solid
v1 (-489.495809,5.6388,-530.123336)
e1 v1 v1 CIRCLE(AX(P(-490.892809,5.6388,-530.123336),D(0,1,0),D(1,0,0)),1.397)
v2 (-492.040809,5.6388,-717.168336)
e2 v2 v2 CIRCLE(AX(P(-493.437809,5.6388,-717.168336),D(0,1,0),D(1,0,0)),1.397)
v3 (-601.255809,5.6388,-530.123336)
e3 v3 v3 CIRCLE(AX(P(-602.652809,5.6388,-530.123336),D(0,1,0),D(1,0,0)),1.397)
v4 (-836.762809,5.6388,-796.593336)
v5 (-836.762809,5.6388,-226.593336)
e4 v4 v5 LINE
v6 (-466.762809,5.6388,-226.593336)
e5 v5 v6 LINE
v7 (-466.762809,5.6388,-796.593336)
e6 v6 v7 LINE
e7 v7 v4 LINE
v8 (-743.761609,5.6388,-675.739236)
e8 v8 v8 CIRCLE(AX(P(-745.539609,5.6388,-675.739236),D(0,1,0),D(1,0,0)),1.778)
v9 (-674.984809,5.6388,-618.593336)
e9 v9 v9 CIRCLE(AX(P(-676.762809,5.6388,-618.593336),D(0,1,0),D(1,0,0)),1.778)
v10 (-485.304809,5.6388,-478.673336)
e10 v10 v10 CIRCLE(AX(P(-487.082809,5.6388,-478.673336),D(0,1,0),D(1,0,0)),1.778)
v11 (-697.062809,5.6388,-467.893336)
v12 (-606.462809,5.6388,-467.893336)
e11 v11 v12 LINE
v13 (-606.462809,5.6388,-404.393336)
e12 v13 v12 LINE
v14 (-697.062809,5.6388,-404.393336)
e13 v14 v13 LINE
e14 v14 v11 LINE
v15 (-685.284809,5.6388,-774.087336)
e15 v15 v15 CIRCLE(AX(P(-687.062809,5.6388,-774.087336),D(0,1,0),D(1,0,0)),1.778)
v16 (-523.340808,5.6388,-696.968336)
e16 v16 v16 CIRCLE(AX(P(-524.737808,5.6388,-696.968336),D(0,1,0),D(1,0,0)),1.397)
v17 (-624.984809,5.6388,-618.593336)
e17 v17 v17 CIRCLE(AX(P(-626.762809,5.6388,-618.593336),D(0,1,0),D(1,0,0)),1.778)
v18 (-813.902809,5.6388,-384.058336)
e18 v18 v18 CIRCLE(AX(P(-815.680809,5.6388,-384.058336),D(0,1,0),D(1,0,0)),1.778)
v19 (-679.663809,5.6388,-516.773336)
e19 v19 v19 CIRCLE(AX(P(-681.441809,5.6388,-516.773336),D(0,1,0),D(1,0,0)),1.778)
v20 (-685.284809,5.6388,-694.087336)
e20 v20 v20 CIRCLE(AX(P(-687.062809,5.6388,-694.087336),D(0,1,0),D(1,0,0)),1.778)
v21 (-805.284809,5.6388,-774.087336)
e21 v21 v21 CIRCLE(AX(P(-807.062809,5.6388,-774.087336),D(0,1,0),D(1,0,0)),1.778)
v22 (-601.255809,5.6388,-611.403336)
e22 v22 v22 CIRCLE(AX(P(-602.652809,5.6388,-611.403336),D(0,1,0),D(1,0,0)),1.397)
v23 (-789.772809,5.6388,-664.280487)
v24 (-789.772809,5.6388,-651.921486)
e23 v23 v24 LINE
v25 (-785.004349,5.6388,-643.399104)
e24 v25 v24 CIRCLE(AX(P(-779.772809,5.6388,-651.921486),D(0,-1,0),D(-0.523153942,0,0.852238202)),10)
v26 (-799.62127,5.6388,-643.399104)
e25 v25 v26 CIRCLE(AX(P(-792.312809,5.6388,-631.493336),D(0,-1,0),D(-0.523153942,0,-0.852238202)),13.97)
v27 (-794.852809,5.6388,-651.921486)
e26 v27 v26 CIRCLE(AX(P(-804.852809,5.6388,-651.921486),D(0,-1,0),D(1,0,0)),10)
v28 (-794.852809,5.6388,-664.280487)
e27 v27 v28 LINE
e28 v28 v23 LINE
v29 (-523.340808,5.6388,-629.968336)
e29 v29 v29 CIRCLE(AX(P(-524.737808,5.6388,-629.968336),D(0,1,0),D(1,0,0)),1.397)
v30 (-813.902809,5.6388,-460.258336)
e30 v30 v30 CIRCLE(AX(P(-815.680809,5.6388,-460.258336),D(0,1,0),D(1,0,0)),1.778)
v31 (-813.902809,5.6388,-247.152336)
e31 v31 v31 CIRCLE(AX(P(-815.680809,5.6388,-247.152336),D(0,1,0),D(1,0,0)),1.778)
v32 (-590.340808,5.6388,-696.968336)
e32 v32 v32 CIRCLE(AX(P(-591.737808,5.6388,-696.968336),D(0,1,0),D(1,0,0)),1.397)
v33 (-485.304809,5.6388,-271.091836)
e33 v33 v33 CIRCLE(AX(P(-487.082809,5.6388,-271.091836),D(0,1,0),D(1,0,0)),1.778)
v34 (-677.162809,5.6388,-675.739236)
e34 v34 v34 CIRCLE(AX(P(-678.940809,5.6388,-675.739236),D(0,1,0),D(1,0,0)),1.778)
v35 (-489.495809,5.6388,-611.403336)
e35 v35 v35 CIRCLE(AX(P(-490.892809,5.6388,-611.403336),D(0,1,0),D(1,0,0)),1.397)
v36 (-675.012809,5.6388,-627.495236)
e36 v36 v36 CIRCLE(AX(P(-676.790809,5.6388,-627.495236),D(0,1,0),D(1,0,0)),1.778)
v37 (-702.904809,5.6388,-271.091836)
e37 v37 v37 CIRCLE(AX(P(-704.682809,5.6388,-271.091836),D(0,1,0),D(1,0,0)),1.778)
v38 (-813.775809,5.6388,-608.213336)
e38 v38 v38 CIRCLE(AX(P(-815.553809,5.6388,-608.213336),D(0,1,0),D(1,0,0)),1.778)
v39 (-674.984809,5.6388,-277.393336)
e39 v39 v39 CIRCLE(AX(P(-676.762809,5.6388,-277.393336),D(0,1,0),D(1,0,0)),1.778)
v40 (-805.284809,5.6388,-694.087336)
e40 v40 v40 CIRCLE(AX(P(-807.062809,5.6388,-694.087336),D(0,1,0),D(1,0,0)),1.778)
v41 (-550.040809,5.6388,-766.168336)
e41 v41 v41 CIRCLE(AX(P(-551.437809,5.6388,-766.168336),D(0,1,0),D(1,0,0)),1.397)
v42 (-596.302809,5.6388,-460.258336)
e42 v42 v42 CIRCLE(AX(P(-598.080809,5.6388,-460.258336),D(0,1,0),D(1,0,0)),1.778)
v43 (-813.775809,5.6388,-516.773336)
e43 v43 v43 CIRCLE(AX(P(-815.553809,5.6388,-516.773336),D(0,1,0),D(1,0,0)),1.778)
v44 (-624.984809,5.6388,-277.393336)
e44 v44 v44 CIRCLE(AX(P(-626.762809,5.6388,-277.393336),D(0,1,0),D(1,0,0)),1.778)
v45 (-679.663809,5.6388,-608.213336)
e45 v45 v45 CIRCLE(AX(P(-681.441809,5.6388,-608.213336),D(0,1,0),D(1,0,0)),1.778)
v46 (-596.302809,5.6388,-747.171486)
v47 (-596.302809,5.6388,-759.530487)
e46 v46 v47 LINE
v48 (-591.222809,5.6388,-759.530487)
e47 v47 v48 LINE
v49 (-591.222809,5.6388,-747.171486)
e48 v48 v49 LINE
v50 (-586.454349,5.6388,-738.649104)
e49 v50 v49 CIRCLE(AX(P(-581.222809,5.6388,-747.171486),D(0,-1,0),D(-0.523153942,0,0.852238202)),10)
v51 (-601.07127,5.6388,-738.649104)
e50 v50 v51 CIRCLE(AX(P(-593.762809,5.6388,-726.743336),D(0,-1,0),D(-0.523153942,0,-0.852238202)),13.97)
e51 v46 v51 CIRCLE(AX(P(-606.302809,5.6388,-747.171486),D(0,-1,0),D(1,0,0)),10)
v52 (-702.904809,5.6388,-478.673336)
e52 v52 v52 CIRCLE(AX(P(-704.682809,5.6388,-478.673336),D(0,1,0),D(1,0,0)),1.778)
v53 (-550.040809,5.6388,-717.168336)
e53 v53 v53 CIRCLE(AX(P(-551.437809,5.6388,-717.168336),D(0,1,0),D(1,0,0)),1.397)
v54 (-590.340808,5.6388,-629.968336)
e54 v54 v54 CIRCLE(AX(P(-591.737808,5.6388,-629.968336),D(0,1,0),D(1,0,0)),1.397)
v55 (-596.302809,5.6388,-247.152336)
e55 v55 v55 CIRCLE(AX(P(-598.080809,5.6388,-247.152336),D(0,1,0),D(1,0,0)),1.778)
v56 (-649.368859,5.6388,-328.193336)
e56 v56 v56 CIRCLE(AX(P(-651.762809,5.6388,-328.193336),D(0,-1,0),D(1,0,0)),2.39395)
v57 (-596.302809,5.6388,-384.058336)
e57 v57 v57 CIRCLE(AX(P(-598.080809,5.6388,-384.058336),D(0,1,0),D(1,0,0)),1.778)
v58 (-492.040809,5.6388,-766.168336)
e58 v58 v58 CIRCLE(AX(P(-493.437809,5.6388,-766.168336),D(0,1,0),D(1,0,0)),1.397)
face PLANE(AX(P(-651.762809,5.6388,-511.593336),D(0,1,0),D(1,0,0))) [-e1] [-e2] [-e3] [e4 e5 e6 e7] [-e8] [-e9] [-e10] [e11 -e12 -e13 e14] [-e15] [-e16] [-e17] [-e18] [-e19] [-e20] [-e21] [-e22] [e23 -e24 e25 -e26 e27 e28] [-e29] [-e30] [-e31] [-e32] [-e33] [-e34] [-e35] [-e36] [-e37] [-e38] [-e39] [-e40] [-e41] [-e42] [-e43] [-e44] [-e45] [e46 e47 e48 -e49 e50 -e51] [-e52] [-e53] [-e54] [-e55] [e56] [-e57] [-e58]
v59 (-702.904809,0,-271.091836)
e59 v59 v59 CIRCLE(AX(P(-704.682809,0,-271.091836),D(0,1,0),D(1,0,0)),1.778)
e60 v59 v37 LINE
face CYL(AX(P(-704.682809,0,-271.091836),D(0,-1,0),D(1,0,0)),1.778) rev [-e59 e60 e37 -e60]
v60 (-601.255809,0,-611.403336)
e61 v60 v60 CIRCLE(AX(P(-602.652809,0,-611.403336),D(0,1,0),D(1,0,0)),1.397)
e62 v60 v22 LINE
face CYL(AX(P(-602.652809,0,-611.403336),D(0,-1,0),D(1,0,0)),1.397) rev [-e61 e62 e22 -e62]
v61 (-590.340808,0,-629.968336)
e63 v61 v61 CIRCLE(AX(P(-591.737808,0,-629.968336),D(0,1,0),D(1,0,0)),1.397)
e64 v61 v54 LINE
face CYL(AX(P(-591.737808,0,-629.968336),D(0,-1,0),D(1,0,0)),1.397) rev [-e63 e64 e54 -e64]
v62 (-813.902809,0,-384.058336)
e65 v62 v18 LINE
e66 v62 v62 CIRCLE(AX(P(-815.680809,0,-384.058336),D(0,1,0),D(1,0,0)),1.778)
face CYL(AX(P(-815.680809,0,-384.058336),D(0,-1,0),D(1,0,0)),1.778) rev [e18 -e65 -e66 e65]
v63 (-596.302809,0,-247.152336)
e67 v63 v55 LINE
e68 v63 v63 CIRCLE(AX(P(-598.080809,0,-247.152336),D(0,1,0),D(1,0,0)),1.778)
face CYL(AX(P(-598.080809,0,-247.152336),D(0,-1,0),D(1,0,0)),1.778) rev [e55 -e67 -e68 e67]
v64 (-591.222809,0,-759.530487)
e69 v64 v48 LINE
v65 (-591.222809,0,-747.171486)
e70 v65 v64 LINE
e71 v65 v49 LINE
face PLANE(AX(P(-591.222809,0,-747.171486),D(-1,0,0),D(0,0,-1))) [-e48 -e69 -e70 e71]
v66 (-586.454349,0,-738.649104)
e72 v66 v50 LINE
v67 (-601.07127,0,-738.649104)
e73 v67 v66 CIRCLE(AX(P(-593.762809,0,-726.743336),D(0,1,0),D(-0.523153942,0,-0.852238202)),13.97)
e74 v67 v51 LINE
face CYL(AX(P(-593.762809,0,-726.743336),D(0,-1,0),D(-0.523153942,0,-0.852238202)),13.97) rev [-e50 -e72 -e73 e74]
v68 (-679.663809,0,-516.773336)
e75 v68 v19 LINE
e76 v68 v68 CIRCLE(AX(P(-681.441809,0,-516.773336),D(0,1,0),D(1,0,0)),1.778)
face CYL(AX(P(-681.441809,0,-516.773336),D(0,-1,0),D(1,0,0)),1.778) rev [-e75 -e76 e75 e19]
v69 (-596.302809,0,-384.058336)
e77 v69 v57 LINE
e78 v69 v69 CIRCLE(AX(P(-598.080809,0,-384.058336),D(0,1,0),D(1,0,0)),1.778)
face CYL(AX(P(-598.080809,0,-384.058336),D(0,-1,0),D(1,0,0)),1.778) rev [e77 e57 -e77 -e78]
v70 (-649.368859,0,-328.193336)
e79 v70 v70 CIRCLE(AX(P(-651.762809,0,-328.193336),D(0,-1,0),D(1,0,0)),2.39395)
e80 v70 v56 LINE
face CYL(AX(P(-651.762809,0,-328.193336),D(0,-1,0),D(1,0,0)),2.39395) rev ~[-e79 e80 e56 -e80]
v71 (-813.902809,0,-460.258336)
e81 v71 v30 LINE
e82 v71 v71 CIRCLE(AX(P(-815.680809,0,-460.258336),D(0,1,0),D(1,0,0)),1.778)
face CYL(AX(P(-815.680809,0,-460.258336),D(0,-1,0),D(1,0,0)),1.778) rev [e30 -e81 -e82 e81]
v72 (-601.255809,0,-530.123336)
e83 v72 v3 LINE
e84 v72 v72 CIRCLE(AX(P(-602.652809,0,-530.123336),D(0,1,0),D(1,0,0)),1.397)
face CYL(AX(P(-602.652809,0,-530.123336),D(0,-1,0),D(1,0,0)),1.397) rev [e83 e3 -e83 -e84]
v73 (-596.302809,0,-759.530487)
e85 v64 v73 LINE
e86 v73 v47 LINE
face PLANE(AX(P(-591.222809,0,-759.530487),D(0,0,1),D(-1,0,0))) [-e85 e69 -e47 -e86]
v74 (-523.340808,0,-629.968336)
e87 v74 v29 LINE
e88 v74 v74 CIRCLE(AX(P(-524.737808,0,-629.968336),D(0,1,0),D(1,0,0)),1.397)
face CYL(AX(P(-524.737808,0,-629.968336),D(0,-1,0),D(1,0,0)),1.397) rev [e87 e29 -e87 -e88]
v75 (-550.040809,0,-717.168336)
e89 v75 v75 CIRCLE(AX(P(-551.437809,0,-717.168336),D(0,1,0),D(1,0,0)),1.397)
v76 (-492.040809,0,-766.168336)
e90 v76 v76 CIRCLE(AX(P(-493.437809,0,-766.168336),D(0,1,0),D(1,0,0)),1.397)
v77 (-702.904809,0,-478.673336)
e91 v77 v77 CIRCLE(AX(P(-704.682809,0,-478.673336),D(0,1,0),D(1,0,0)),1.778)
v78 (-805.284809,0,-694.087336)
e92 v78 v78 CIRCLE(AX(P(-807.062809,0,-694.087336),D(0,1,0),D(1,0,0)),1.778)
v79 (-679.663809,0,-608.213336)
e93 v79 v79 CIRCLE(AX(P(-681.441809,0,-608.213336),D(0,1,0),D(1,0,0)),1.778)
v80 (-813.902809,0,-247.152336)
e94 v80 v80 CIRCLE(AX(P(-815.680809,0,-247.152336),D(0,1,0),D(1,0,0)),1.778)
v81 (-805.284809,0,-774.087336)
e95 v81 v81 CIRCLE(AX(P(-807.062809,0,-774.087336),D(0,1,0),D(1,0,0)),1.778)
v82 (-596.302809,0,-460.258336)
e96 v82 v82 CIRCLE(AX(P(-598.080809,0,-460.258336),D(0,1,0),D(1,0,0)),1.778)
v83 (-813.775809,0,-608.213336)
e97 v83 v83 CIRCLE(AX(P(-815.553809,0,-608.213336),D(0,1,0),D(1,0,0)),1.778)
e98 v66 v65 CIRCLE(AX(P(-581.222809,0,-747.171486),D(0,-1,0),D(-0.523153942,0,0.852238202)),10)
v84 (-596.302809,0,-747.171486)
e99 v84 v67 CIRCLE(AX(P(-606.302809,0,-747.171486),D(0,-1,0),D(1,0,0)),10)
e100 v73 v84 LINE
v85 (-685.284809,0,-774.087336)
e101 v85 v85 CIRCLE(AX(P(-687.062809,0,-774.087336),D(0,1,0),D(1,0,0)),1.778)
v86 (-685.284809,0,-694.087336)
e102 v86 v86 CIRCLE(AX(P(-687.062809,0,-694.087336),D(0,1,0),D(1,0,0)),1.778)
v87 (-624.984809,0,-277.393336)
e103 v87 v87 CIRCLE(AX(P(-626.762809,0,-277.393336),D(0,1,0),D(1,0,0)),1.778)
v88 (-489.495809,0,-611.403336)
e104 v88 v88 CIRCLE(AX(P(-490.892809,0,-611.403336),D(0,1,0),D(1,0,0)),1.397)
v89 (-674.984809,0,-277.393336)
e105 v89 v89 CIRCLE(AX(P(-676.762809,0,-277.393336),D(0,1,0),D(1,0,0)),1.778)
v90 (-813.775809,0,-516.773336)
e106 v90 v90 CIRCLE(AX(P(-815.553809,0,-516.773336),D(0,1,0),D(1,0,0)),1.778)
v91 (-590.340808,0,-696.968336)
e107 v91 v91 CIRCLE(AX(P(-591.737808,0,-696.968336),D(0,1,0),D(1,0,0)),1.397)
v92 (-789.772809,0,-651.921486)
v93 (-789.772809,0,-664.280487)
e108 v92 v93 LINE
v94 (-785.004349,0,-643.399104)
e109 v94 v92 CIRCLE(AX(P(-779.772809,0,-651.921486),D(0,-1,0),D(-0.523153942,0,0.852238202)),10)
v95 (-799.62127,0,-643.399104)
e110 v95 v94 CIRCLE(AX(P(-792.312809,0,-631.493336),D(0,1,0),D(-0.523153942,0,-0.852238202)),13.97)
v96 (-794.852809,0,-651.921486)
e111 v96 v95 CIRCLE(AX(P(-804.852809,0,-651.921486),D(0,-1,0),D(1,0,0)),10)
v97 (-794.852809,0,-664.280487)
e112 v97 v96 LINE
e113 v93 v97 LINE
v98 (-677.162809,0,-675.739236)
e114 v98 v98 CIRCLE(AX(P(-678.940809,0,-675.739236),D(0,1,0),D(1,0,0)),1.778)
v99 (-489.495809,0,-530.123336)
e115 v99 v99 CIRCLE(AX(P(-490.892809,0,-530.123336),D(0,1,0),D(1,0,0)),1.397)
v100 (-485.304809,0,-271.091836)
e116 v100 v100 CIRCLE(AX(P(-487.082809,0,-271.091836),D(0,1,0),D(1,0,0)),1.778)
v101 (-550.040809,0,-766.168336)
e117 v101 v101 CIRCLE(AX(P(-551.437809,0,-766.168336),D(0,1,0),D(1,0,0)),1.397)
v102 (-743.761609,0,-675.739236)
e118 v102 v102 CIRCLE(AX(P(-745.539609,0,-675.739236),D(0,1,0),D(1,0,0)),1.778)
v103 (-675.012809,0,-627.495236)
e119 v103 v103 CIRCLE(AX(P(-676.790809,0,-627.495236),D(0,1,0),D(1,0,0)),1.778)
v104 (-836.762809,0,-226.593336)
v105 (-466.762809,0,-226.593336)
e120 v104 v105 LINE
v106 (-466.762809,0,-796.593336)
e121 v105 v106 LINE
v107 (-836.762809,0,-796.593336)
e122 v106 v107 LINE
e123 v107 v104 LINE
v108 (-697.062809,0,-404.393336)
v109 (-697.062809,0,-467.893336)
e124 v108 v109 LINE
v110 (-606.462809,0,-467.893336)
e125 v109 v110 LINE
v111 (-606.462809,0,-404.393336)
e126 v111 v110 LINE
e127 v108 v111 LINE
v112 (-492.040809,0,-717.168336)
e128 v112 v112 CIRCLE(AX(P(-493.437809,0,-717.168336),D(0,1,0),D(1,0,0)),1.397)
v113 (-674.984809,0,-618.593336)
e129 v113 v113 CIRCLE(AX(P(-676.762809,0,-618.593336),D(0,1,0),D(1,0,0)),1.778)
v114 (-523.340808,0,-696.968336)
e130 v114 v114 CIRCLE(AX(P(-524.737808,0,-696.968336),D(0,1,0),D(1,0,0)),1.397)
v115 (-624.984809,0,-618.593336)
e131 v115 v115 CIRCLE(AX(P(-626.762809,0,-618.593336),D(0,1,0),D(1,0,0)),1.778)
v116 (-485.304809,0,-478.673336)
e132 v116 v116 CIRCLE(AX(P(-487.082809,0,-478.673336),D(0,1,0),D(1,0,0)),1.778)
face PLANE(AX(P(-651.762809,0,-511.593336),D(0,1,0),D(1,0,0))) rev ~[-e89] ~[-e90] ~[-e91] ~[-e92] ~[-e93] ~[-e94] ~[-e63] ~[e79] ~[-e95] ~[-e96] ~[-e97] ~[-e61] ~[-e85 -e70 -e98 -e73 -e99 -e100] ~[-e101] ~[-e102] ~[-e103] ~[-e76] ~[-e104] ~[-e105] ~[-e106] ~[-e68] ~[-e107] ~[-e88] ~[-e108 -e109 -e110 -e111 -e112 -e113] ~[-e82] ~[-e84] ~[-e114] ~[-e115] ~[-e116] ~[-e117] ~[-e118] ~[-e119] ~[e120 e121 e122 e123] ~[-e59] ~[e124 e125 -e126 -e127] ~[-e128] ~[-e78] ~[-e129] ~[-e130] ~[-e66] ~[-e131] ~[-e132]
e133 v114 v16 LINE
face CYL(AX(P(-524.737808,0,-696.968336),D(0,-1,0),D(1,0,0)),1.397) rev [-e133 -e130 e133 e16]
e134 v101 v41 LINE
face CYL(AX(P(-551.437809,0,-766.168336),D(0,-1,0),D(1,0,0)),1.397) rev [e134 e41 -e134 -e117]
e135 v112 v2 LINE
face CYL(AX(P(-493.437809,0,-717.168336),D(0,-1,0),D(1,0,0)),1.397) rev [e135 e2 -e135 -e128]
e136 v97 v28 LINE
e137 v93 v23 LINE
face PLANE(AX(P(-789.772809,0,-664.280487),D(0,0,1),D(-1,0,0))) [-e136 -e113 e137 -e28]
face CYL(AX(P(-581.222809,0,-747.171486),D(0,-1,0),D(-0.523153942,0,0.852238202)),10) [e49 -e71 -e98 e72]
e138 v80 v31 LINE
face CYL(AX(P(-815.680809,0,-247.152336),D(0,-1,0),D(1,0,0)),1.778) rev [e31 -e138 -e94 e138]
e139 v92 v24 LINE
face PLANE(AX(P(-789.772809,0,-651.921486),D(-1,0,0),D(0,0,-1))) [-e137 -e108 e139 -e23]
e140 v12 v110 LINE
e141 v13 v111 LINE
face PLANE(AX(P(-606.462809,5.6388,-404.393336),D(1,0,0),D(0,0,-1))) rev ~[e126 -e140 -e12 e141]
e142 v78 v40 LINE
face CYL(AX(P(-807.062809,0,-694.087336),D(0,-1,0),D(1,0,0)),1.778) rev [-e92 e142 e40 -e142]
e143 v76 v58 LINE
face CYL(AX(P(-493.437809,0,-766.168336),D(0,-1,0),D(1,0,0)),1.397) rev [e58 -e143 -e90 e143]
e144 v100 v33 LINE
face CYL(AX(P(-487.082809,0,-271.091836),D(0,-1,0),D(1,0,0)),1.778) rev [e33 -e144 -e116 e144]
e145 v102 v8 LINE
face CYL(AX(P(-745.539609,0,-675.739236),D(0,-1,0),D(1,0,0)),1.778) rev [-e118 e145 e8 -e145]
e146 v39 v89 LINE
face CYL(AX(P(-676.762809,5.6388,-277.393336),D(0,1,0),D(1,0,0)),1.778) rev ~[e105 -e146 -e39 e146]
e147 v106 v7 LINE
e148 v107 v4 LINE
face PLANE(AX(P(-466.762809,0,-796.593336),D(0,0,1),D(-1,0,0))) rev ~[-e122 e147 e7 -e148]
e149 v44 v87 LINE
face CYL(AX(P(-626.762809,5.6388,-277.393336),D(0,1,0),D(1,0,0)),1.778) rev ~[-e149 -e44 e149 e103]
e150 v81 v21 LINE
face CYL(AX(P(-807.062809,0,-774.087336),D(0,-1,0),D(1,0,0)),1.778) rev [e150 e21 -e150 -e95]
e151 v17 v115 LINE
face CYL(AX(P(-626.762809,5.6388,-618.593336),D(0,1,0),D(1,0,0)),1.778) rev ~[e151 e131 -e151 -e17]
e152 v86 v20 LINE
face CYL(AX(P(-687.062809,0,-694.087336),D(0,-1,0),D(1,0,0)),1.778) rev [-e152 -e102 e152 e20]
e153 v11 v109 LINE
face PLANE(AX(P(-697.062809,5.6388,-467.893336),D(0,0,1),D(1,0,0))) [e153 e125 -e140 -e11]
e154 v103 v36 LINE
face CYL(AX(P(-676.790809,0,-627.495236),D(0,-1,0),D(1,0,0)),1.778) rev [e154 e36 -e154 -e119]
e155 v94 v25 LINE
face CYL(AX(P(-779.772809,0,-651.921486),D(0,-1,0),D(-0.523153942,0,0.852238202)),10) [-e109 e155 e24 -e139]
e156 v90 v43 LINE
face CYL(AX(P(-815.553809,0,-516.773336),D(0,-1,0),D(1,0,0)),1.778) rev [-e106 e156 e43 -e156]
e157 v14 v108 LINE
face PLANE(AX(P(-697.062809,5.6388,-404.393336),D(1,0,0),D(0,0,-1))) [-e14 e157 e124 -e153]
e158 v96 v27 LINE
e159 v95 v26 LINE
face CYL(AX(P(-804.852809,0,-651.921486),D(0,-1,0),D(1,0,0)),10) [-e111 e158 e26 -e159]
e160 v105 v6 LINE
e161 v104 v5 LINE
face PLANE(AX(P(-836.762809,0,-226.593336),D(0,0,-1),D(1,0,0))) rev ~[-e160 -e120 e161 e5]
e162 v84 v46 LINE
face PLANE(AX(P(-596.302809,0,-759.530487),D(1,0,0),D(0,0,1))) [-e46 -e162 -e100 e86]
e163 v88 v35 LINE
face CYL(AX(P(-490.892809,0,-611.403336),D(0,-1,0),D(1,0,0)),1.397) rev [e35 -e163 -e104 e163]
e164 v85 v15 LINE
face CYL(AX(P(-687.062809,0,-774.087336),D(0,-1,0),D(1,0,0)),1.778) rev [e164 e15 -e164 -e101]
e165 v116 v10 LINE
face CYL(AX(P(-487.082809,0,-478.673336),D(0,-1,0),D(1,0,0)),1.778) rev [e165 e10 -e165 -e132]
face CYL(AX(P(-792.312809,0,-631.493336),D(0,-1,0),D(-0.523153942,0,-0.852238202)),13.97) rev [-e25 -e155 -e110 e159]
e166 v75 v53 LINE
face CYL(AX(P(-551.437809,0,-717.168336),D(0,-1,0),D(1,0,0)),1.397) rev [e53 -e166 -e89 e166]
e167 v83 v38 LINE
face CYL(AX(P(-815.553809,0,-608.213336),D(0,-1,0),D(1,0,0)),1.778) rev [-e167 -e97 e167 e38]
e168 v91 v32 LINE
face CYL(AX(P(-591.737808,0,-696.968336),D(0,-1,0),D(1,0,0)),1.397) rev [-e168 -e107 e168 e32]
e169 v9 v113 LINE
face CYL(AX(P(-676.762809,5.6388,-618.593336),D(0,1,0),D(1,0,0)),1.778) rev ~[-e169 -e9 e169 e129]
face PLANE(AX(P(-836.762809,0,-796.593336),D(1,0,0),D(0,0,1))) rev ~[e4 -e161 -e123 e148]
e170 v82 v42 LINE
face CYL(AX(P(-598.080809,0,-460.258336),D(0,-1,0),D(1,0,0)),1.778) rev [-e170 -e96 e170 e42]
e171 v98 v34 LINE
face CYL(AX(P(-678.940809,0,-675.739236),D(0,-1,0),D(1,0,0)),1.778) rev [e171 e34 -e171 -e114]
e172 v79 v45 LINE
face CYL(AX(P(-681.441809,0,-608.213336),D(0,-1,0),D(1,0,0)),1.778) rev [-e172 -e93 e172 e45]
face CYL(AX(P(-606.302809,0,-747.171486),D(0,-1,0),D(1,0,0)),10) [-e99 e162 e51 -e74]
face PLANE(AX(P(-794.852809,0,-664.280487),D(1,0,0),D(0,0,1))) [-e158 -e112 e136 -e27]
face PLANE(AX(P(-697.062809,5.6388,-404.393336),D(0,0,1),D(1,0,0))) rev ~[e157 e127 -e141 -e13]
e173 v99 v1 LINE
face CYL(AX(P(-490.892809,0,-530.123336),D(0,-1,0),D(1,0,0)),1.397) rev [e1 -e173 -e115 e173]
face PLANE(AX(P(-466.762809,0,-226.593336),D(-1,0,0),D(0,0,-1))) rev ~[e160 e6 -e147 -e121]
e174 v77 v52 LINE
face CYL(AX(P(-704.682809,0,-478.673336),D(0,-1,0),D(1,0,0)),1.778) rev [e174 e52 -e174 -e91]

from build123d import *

# Parameters (mm, degrees)
SKETCH1_R           = 1.778
SKETCH1_R_2         = 1.397
BOSS_EXTRUDE1_DEPTH = 5.6388
SKETCH5_R           = 2.39395
CUT_EXTRUDE1_DEPTH  = 6.6388
SKETCH6_R           = 1.778
CUT_EXTRUDE2_DEPTH  = 6.6388
SKETCH7_W           = 90.6
SKETCH7_H           = 63.5
CUT_EXTRUDE3_DEPTH  = 6.6388


with BuildPart() as part:
    # Sketch1 → Boss-Extrude1 (new body)
    with BuildSketch(Plane(origin=(0, 0, 0), x_dir=(1, 0, 0), z_dir=(0, 1, 0))):
        Polygon((-836.762809235, 790.243336478), (-836.762809235, 232.943336478), (-836.762809235, 226.593336478), (-466.762809235, 226.593336478), (-466.762809235, 232.943336478), (-466.762809235, 790.243336478), (-466.762809235, 796.593336478), (-836.762809235, 796.593336478), align=None)
        with Locations((-807.062809235, 774.087336478)):
            Circle(SKETCH1_R, mode=Mode.SUBTRACT)
        with Locations((-807.062809235, 694.087336478)):
            Circle(SKETCH1_R, mode=Mode.SUBTRACT)
        with Locations((-687.062809235, 694.087336478)):
            Circle(SKETCH1_R, mode=Mode.SUBTRACT)
        with Locations((-687.062809235, 774.087336478)):
            Circle(SKETCH1_R, mode=Mode.SUBTRACT)
        with Locations((-551.437809235, 766.168335733)):
            Circle(SKETCH1_R_2, mode=Mode.SUBTRACT)
        with Locations((-551.437809235, 717.168335733)):
            Circle(SKETCH1_R_2, mode=Mode.SUBTRACT)
        with Locations((-493.437809235, 717.168335733)):
            Circle(SKETCH1_R_2, mode=Mode.SUBTRACT)
        with Locations((-493.437809235, 766.168335733)):
            Circle(SKETCH1_R_2, mode=Mode.SUBTRACT)
        with Locations((-591.737808414, 696.968336156)):
            Circle(SKETCH1_R_2, mode=Mode.SUBTRACT)
        with Locations((-591.737808414, 629.968336156)):
            Circle(SKETCH1_R_2, mode=Mode.SUBTRACT)
        with Locations((-524.737808414, 629.968336156)):
            Circle(SKETCH1_R_2, mode=Mode.SUBTRACT)
        with Locations((-524.737808414, 696.968336156)):
            Circle(SKETCH1_R_2, mode=Mode.SUBTRACT)
        with Locations((-815.553809235, 608.213336478)):
            Circle(SKETCH1_R, mode=Mode.SUBTRACT)
        with Locations((-681.441809235, 608.213336478)):
            Circle(SKETCH1_R, mode=Mode.SUBTRACT)
        with Locations((-681.441809235, 516.773336478)):
            Circle(SKETCH1_R, mode=Mode.SUBTRACT)
        with Locations((-815.553809235, 516.773336478)):
            Circle(SKETCH1_R, mode=Mode.SUBTRACT)
        with Locations((-602.652809235, 611.403336478)):
            Circle(SKETCH1_R_2, mode=Mode.SUBTRACT)
        with Locations((-602.652809235, 530.123336478)):
            Circle(SKETCH1_R_2, mode=Mode.SUBTRACT)
        with Locations((-490.892809235, 611.403336478)):
            Circle(SKETCH1_R_2, mode=Mode.SUBTRACT)
        with Locations((-490.892809235, 530.123336478)):
            Circle(SKETCH1_R_2, mode=Mode.SUBTRACT)
        with Locations((-487.082809235, 478.673336478)):
            Circle(SKETCH1_R, mode=Mode.SUBTRACT)
        with Locations((-598.080809235, 460.258336478)):
            Circle(SKETCH1_R, mode=Mode.SUBTRACT)
        with Locations((-598.080809235, 384.058336478)):
            Circle(SKETCH1_R, mode=Mode.SUBTRACT)
        with Locations((-487.082809235, 271.091836478)):
            Circle(SKETCH1_R, mode=Mode.SUBTRACT)
        with Locations((-598.080809235, 247.152336478)):
            Circle(SKETCH1_R, mode=Mode.SUBTRACT)
        with Locations((-704.682809235, 271.091836478)):
            Circle(SKETCH1_R, mode=Mode.SUBTRACT)
        with Locations((-815.680809235, 247.152336478)):
            Circle(SKETCH1_R, mode=Mode.SUBTRACT)
        with Locations((-815.680809235, 384.058336478)):
            Circle(SKETCH1_R, mode=Mode.SUBTRACT)
        with Locations((-815.680809235, 460.258336478)):
            Circle(SKETCH1_R, mode=Mode.SUBTRACT)
        with Locations((-704.682809235, 478.673336478)):
            Circle(SKETCH1_R, mode=Mode.SUBTRACT)
        with Locations((-678.940809235, 675.739236478)):
            Circle(SKETCH1_R, mode=Mode.SUBTRACT)
        with Locations((-745.539609235, 675.739236478)):
            Circle(SKETCH1_R, mode=Mode.SUBTRACT)
        with Locations((-676.790809235, 627.495236478)):
            Circle(SKETCH1_R, mode=Mode.SUBTRACT)
    extrude(amount=BOSS_EXTRUDE1_DEPTH)

    # Sketch5 → Cut-Extrude1 (cut, through all)
    with BuildSketch(Plane.XZ):
        with Locations((-651.762809235, -328.193336478)):
            Circle(SKETCH5_R)
        with BuildLine():
            Line((-794.852809235, -664.280486837), (-794.852809235, -651.921486174))
            ThreePointArc((-794.852809235, -651.921486174), (-796.125971484, -647.038628109), (-799.62126981, -643.399104156))
            ThreePointArc((-799.62126981, -643.399104156), (-792.312809235, -617.523336478), (-785.004348659, -643.399104156))
            ThreePointArc((-785.004348659, -643.399104156), (-788.499646985, -647.038628109), (-789.772809235, -651.921486174))
            Line((-789.772809235, -651.921486174), (-789.772809235, -664.280486837))
            Line((-789.772809235, -664.280486837), (-794.852809235, -664.280486837))
        make_face()
        with BuildLine():
            Line((-596.302809235, -759.530486837), (-596.302809235, -747.171486174))
            ThreePointArc((-596.302809235, -747.171486174), (-597.575971484, -742.288628109), (-601.07126981, -738.649104156))
            ThreePointArc((-601.07126981, -738.649104156), (-593.762809235, -712.773336478), (-586.454348659, -738.649104156))
            ThreePointArc((-586.454348659, -738.649104156), (-589.949646985, -742.288628109), (-591.222809235, -747.171486174))
            Line((-591.222809235, -747.171486174), (-591.222809235, -759.530486837))
            Line((-591.222809235, -759.530486837), (-596.302809235, -759.530486837))
        make_face()
    extrude(amount=-CUT_EXTRUDE1_DEPTH, mode=Mode.SUBTRACT)

    # Sketch6 → Cut-Extrude2 (cut, through all)
    with BuildSketch(Plane(origin=(0, 5.6388, 0), x_dir=(1, 0, 0), z_dir=(0, 1, 0))):
        with Locations((-676.762809235, 277.393336478)):
            Circle(SKETCH6_R)
        with Locations((-626.762809235, 277.393336478)):
            Circle(SKETCH6_R)
        with Locations((-676.762809235, 618.593336478)):
            Circle(SKETCH6_R)
        with Locations((-626.762809235, 618.593336478)):
            Circle(SKETCH6_R)
    extrude(amount=-CUT_EXTRUDE2_DEPTH, mode=Mode.SUBTRACT)

    # Sketch7 → Cut-Extrude3 (cut, through all)
    with BuildSketch(Plane(origin=(0, 5.6388, 0), x_dir=(1, 0, 0), z_dir=(0, 1, 0))):
        with Locations((-651.762809235, 436.143336478)):
            Rectangle(SKETCH7_W, SKETCH7_H)
    extrude(amount=-CUT_EXTRUDE3_DEPTH, mode=Mode.SUBTRACT)


solid = part.part
